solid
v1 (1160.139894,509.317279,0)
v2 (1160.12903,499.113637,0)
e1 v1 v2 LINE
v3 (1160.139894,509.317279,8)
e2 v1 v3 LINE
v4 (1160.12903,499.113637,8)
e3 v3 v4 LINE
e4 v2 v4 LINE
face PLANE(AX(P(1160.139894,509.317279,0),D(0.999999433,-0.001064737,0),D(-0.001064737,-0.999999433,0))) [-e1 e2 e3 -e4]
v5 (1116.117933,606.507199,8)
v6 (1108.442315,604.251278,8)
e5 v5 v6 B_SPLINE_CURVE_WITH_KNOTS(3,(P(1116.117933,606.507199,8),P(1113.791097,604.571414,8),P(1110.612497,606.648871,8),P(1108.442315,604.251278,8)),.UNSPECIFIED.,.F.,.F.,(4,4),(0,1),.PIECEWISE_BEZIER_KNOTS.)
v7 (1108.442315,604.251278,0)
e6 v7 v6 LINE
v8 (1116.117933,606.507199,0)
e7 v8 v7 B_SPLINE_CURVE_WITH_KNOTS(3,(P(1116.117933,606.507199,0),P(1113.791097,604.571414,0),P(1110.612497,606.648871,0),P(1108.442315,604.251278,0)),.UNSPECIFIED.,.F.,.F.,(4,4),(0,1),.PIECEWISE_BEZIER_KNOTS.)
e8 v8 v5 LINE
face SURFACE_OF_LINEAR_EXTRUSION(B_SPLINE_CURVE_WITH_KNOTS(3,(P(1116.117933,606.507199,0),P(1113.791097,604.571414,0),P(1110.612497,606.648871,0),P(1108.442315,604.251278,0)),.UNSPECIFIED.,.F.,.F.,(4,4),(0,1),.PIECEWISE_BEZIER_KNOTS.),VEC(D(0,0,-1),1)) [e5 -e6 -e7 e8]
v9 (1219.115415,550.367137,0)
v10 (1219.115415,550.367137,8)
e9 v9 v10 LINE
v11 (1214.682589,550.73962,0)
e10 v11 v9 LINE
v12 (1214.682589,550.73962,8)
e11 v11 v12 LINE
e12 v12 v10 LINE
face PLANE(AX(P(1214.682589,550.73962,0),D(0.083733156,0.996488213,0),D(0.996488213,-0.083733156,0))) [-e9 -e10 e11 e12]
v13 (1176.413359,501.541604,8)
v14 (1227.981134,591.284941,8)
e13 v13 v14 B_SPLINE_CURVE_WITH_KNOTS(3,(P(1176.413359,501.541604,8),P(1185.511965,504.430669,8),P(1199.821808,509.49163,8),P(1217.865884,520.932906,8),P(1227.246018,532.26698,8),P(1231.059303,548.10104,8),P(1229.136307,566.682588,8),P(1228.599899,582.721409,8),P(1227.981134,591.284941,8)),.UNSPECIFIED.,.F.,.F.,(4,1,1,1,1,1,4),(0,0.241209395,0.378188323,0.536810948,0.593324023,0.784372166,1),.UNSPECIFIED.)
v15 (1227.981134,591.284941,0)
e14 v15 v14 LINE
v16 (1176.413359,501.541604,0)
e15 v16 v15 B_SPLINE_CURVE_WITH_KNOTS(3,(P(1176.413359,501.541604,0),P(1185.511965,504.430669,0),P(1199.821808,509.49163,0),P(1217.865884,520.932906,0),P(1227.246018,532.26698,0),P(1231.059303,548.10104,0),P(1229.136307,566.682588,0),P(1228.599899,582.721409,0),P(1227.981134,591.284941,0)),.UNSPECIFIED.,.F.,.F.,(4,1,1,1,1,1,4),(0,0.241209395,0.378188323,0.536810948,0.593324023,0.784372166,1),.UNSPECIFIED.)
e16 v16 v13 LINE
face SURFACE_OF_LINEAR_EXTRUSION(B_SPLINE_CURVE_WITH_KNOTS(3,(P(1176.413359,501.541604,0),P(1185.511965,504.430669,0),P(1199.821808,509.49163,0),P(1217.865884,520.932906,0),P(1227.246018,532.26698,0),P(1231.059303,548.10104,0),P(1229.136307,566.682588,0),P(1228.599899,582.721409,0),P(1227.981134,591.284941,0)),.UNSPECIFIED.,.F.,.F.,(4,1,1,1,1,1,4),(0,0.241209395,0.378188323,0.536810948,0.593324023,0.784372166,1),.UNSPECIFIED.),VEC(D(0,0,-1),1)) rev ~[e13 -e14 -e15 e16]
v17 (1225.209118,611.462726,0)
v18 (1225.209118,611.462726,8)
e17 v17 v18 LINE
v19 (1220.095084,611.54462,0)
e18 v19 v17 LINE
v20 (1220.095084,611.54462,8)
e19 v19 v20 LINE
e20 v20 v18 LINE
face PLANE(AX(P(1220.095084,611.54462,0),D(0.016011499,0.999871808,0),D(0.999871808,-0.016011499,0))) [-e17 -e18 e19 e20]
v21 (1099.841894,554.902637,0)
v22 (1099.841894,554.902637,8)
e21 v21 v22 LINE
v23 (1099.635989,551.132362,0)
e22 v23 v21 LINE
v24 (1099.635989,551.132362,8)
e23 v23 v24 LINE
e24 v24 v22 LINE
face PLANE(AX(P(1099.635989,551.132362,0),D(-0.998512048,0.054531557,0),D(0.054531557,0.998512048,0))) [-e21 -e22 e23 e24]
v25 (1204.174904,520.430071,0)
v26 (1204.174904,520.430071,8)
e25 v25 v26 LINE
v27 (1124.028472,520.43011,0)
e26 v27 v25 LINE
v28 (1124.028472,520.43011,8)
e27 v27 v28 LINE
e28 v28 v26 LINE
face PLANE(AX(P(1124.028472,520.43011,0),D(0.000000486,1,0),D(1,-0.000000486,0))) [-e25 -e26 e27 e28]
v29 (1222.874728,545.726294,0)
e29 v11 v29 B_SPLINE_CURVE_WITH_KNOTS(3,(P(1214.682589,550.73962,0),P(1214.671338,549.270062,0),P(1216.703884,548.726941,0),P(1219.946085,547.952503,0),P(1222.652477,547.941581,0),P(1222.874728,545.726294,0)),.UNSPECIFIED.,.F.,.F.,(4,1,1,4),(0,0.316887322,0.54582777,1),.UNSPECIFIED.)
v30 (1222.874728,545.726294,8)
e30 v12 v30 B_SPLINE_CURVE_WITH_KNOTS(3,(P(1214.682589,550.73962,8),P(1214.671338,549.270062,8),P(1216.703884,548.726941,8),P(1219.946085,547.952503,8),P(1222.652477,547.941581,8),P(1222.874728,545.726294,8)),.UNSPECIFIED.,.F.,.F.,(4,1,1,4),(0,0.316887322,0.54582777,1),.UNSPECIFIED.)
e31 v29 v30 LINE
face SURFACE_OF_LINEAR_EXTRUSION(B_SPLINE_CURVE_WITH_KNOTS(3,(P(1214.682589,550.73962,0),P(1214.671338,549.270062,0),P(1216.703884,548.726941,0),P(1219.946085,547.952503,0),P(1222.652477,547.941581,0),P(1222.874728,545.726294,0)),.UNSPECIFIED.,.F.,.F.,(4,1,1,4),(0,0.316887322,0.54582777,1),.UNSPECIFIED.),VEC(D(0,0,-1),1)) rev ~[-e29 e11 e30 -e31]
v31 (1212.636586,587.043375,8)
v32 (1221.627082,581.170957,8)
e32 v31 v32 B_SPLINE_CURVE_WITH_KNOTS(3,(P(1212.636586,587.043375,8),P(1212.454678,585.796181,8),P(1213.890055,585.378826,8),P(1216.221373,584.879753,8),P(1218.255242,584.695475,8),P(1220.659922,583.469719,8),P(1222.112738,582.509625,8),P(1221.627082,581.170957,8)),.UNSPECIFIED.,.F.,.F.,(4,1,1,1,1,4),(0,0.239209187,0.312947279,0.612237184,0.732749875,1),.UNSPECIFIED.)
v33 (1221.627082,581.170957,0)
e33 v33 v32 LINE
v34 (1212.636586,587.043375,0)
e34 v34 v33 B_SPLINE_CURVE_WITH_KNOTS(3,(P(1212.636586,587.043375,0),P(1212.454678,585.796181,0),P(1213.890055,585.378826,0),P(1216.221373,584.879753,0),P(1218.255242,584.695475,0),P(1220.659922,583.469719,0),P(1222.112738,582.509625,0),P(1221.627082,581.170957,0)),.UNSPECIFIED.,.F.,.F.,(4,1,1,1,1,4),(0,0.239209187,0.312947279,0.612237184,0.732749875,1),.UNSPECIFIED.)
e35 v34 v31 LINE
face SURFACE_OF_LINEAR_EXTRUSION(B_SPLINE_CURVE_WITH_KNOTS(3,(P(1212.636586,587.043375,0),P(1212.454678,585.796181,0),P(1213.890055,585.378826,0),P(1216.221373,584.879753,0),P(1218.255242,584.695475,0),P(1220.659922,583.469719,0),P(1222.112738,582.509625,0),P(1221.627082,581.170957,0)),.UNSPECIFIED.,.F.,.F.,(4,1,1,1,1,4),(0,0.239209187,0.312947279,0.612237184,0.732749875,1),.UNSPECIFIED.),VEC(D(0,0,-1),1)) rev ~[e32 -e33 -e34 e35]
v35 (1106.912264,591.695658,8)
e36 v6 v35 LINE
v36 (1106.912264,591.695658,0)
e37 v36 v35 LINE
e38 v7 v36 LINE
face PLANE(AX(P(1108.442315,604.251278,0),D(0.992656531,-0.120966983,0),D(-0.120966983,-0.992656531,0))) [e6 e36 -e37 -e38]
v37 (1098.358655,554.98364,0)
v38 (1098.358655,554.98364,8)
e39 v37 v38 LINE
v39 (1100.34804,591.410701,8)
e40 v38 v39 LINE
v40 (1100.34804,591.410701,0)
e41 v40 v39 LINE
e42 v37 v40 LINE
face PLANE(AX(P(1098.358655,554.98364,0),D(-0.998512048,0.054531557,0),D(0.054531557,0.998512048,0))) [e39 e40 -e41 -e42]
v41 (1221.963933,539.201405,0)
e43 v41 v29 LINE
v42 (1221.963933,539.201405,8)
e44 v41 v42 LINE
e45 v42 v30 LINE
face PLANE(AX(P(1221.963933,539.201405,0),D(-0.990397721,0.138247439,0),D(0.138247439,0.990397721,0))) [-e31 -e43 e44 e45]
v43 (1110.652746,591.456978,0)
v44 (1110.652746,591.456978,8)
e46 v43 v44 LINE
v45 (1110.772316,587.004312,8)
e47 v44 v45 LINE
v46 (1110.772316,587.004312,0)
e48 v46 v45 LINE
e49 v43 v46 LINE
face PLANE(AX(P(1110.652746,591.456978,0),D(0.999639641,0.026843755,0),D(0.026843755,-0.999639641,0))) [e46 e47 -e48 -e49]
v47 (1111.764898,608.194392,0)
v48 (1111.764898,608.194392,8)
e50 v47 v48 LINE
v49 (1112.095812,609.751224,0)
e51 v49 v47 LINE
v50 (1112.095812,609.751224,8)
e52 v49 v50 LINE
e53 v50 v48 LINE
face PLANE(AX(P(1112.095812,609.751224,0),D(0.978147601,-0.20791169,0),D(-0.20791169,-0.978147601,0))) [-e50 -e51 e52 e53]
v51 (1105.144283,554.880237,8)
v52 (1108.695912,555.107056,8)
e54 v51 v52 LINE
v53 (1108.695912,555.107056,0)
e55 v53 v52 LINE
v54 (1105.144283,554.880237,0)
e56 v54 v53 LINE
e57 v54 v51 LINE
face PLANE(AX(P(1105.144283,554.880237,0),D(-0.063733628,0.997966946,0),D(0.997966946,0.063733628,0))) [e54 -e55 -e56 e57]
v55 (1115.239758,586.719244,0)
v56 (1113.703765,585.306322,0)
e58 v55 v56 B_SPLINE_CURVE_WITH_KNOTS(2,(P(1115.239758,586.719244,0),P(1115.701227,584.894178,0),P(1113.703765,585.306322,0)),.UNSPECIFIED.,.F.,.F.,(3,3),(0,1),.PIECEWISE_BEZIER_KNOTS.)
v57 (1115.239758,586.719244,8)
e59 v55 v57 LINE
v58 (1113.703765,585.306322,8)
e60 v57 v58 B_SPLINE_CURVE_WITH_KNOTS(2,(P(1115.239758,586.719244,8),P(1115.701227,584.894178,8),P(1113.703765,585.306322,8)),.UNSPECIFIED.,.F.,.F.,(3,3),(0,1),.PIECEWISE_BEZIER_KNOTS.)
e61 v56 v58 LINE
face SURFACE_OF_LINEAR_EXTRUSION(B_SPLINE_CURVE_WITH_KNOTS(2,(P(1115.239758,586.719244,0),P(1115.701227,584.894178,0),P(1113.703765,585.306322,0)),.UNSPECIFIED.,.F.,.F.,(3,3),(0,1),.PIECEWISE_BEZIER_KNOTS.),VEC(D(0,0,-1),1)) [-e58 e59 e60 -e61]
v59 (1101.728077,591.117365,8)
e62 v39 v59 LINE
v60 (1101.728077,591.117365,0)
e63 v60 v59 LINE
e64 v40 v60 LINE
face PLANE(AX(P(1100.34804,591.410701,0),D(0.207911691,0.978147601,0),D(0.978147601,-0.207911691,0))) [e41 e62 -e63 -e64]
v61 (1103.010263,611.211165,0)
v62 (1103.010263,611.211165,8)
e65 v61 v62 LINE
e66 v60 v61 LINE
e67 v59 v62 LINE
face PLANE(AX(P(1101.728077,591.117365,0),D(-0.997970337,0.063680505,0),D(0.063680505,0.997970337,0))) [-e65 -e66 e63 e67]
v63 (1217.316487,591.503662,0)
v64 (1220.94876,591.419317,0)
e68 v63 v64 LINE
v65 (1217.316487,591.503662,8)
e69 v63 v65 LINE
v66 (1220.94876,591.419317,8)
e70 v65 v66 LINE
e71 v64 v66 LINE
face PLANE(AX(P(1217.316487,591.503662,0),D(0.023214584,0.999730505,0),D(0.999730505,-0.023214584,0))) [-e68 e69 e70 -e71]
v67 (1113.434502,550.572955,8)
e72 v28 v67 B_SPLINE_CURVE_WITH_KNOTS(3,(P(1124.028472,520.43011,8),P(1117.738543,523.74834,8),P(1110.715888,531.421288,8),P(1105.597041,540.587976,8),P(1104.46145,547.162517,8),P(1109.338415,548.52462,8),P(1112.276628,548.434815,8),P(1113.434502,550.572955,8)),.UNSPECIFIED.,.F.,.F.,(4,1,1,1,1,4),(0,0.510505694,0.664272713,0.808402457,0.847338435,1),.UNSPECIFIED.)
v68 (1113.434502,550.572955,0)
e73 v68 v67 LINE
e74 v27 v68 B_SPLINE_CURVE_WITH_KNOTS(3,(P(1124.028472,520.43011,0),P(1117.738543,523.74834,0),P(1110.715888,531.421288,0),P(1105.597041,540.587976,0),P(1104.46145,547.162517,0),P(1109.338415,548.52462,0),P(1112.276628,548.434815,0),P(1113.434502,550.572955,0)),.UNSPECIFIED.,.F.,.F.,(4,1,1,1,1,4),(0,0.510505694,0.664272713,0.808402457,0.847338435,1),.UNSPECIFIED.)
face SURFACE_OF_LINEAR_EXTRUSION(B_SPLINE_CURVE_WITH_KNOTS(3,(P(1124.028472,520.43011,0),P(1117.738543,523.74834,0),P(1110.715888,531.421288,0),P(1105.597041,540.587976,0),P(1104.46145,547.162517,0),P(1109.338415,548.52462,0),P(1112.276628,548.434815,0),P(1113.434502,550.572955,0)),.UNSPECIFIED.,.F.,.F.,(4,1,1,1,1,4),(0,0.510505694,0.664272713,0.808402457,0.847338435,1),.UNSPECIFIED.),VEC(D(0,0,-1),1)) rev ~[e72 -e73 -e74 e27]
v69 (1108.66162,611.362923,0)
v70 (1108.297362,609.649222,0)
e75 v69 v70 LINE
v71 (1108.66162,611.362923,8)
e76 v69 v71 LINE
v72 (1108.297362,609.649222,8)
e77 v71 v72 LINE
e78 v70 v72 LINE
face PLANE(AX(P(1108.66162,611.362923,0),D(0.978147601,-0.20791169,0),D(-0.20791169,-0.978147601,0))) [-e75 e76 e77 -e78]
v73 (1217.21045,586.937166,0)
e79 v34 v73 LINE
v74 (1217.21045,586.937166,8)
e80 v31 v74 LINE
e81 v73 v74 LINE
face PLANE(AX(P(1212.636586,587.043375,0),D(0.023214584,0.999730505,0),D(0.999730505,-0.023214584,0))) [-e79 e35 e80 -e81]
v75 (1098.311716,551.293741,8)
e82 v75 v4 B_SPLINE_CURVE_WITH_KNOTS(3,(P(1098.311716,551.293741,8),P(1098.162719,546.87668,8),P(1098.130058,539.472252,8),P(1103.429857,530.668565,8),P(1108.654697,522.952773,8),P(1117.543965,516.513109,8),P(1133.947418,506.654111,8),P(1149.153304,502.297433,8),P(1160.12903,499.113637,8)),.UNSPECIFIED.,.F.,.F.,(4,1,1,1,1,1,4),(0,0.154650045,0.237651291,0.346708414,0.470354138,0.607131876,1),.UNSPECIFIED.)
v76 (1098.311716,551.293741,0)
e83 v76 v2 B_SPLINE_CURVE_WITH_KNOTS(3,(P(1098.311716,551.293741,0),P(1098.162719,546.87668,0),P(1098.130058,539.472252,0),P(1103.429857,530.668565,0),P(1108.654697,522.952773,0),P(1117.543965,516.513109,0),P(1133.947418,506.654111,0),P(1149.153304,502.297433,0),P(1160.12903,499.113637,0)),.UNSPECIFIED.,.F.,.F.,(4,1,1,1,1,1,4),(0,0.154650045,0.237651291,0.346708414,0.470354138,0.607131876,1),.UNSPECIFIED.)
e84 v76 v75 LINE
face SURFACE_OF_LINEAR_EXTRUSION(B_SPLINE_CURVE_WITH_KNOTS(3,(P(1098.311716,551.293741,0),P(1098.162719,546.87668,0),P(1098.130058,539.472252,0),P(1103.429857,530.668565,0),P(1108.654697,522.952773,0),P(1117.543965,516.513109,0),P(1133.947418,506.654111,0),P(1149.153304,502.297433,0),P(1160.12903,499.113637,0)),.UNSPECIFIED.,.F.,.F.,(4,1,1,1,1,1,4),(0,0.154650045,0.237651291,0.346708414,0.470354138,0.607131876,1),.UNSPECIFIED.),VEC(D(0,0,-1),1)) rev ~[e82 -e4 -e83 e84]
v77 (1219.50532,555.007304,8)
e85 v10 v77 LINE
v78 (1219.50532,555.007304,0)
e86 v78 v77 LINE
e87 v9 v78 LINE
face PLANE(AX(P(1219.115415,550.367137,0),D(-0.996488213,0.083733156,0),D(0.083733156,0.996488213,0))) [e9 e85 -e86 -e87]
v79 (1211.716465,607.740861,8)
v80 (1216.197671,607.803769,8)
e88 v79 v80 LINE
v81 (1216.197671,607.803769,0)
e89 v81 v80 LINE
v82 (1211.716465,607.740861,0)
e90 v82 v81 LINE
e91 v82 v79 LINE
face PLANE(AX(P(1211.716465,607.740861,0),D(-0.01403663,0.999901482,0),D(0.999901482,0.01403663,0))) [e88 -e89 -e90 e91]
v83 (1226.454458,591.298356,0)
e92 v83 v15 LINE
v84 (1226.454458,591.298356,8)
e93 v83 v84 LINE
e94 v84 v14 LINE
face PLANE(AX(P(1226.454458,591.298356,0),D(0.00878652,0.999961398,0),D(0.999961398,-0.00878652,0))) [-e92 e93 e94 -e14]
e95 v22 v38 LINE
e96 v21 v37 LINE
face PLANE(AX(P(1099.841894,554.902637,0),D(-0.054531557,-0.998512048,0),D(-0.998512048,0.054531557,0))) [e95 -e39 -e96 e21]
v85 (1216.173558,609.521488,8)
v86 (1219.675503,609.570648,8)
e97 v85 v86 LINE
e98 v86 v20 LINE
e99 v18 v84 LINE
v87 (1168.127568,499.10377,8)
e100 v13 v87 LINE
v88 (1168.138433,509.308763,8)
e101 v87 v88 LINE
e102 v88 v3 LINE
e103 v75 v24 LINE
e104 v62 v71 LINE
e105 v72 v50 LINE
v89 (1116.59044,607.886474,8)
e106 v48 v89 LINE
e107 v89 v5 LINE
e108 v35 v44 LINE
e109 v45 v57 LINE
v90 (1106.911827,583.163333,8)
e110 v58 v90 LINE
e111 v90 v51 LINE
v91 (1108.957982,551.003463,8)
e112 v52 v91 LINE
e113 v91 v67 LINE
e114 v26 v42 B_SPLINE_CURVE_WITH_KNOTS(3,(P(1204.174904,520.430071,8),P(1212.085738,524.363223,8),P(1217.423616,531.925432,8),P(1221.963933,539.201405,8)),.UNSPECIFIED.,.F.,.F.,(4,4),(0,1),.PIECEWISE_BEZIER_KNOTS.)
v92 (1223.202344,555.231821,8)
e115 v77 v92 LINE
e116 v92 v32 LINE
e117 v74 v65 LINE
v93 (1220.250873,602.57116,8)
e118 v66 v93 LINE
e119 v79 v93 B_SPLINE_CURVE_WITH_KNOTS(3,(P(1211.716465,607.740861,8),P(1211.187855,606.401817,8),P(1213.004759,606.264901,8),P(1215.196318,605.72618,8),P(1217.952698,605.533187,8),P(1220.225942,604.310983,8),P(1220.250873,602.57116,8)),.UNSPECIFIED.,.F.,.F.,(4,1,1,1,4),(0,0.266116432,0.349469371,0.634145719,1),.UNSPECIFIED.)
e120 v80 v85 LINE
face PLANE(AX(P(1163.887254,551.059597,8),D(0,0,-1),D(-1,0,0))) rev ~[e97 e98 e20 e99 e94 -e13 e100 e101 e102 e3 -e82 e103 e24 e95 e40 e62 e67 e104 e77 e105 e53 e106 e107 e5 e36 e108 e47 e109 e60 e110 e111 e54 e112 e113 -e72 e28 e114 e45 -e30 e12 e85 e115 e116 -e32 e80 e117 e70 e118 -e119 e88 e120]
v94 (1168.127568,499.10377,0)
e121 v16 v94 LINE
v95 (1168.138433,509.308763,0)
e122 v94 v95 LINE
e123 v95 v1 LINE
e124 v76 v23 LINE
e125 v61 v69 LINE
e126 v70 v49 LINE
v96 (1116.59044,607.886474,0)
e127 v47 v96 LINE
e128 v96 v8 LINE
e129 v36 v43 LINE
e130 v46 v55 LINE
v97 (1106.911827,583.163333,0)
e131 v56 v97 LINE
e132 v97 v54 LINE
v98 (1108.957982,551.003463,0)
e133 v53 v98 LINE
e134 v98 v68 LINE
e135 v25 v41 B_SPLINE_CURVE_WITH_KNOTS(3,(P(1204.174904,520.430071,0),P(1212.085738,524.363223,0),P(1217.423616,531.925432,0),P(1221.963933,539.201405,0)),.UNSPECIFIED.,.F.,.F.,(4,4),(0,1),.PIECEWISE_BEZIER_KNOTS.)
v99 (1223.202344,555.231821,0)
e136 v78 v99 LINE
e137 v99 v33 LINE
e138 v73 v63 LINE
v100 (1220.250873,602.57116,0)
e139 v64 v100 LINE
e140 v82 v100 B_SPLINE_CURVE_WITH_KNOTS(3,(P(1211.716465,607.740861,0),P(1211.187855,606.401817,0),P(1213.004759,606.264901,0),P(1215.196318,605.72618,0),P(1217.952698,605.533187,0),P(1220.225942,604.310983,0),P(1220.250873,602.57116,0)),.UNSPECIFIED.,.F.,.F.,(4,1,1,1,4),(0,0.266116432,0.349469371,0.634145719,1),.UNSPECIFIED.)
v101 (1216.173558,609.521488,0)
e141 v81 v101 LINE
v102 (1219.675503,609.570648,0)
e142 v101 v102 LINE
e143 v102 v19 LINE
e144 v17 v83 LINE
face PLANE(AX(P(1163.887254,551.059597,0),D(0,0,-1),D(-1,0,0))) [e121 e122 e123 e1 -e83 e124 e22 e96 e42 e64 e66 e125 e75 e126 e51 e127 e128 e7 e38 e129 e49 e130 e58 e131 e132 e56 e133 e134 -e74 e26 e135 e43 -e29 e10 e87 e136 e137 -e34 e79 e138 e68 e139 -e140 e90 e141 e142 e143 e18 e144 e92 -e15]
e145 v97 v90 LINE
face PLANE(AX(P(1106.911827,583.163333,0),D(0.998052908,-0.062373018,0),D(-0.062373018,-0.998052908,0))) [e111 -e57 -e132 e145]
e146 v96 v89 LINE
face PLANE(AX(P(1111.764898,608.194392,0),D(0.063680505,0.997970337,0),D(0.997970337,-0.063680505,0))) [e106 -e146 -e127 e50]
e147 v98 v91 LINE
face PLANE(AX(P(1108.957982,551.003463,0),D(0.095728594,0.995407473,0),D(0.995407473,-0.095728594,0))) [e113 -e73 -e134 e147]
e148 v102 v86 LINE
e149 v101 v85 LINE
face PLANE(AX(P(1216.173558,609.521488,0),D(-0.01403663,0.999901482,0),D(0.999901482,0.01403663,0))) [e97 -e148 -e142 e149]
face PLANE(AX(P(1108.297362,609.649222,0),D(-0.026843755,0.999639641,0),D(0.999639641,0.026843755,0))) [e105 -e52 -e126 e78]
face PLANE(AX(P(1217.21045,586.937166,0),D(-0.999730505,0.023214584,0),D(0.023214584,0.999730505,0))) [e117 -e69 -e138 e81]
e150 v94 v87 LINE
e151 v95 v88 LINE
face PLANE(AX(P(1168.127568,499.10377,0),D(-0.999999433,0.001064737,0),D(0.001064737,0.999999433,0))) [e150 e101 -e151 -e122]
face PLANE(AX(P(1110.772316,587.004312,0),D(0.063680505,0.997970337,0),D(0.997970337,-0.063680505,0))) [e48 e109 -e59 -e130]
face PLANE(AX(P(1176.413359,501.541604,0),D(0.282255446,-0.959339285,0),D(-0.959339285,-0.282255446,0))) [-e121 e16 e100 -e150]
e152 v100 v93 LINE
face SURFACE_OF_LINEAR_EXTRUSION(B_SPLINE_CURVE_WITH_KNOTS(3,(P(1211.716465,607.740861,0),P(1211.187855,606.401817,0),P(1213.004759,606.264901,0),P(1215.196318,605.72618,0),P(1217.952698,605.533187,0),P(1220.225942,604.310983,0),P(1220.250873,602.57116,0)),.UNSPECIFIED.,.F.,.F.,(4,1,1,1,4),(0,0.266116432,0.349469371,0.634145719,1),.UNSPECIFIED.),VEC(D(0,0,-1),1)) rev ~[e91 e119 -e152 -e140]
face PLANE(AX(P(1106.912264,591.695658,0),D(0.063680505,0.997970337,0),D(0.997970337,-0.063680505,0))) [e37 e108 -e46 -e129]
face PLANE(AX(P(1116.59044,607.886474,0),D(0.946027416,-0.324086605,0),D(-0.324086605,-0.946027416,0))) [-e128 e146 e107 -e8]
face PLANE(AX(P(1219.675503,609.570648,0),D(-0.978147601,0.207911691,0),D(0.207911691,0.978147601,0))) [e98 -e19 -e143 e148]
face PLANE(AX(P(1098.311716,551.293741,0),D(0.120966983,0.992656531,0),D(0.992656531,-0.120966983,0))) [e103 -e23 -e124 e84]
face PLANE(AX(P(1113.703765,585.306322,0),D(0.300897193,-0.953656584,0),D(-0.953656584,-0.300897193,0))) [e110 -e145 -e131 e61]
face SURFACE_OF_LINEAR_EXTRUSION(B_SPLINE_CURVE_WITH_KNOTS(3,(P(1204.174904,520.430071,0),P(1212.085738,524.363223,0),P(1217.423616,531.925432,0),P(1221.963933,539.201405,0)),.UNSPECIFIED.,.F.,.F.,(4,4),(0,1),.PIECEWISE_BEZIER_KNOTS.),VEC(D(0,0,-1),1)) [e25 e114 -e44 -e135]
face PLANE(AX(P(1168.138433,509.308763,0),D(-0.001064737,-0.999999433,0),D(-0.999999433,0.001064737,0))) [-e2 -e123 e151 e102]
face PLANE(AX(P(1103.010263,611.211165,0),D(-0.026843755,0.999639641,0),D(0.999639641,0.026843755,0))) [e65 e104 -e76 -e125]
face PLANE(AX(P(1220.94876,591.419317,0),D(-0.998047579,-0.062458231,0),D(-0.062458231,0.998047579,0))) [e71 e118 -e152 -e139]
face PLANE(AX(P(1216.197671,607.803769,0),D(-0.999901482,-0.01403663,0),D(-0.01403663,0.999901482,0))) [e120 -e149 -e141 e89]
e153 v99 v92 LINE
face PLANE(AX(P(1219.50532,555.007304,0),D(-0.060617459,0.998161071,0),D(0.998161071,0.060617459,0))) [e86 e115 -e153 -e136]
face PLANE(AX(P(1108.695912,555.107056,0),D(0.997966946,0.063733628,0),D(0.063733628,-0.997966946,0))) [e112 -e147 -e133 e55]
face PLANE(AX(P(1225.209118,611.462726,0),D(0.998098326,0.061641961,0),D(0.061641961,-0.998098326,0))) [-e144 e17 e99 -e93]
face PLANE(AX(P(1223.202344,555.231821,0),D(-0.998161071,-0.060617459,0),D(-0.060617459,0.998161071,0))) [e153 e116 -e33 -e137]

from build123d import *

# Parameters (mm, degrees)
EXTRUDE_1_DEPTH = 8


with BuildPart() as part:
    # 草图1 → 凸台-拉伸1 (new body)
    with BuildSketch(Plane.XY):
        with BuildLine():
            Line((1124.028471583, 520.430109722), (1204.174904035, 520.430070778))
            add(Edge.make_bspline(
                [(1204.174904035, 520.430070778), (1212.085738121, 524.363222827), (1217.423615756, 531.925431574), (1221.963933213, 539.201405051)],
                knots=[0, 0, 0, 0, 1, 1, 1, 1], degree=3))
            Line((1221.963933213, 539.201405051), (1222.874728164, 545.726294408))
            add(Edge.make_bspline(
                [(1214.682588776, 550.739620034), (1214.671338256, 549.270061767), (1216.703883787, 548.726941269), (1219.946084595, 547.952502949), (1222.652477024, 547.941581282), (1222.874728164, 545.726294408)],
                knots=[0, 0, 0, 0, 0.316887322, 0.54582777, 1, 1, 1, 1], degree=3))
            Line((1214.682588776, 550.739620034), (1219.115415172, 550.367137409))
            Line((1219.115415172, 550.367137409), (1219.505320224, 555.007303918))
            Line((1219.505320224, 555.007303918), (1223.202343642, 555.231820955))
            Line((1223.202343642, 555.231820955), (1221.627082304, 581.170957375))
            add(Edge.make_bspline(
                [(1212.636585977, 587.043374717), (1212.454677562, 585.796181195), (1213.890055348, 585.378825619), (1216.221373323, 584.879752933), (1218.255242025, 584.695475039), (1220.659922483, 583.469719419), (1222.1127384, 582.509625086), (1221.627082304, 581.170957375)],
                knots=[0, 0, 0, 0, 0.239209187, 0.312947279, 0.612237184, 0.732749875, 1, 1, 1, 1], degree=3))
            Line((1212.636585977, 587.043374717), (1217.210449531, 586.937165754))
            Line((1217.210449531, 586.937165754), (1217.316487411, 591.503661615))
            Line((1217.316487411, 591.503661615), (1220.948759853, 591.41931719))
            Line((1220.948759853, 591.41931719), (1220.250872886, 602.571160309))
            add(Edge.make_bspline(
                [(1211.716465331, 607.740861376), (1211.187854841, 606.401817151), (1213.004759262, 606.264901424), (1215.196317894, 605.726179758), (1217.952697521, 605.533186742), (1220.225941655, 604.310982986), (1220.250872886, 602.571160309)],
                knots=[0, 0, 0, 0, 0.266116432, 0.349469371, 0.634145719, 1, 1, 1, 1], degree=3))
            Line((1211.716465331, 607.740861376), (1216.197671159, 607.803768601))
            Line((1216.197671159, 607.803768601), (1216.173557796, 609.521487724))
            Line((1216.173557796, 609.521487724), (1219.67550319, 609.570648078))
            Line((1219.67550319, 609.570648078), (1220.095083915, 611.544620192))
            Line((1220.095083915, 611.544620192), (1225.209117986, 611.46272634))
            Line((1225.209117986, 611.46272634), (1226.454457575, 591.298355637))
            Line((1226.454457575, 591.298355637), (1227.981133702, 591.284940949))
            add(Edge.make_bspline(
                [(1176.413358607, 501.541603889), (1185.511965328, 504.430669174), (1199.8218076, 509.491630158), (1217.865884469, 520.93290627), (1227.246018242, 532.266979554), (1231.059303267, 548.101040116), (1229.136307234, 566.682588001), (1228.599899115, 582.721408894), (1227.981133702, 591.284940949)],
                knots=[0, 0, 0, 0, 0.241209395, 0.378188323, 0.536810948, 0.593324023, 0.784372166, 1, 1, 1, 1], degree=3))
            Line((1176.413358607, 501.541603889), (1168.127567544, 499.103770177))
            Line((1168.127567544, 499.103770177), (1168.138433182, 509.308763091))
            Line((1168.138433182, 509.308763091), (1160.139894251, 509.317279435))
            Line((1160.139894251, 509.317279435), (1160.12903005, 499.113636864))
            add(Edge.make_bspline(
                [(1098.311715911, 551.293740787), (1098.16271854, 546.876679985), (1098.130057814, 539.47225151), (1103.429856905, 530.668564811), (1108.654696706, 522.952772916), (1117.543965476, 516.51310893), (1133.947418206, 506.654111254), (1149.153303542, 502.297432674), (1160.12903005, 499.113636864)],
                knots=[0, 0, 0, 0, 0.154650045, 0.237651291, 0.346708414, 0.470354138, 0.607131876, 1, 1, 1, 1], degree=3))
            Line((1098.311715911, 551.293740787), (1099.635988728, 551.132362423))
            Line((1099.635988728, 551.132362423), (1099.841894023, 554.902636544))
            Line((1099.841894023, 554.902636544), (1098.358655386, 554.983640386))
            Line((1098.358655386, 554.983640386), (1100.348039848, 591.410701366))
            Line((1100.348039848, 591.410701366), (1101.728076895, 591.117365436))
            Line((1101.728076895, 591.117365436), (1103.010262599, 611.21116483))
            Line((1103.010262599, 611.21116483), (1108.661620257, 611.362923176))
            Line((1108.661620257, 611.362923176), (1108.297361895, 609.649222315))
            Line((1108.297361895, 609.649222315), (1112.095812339, 609.751223744))
            Line((1112.095812339, 609.751223744), (1111.764897573, 608.194392169))
            Line((1111.764897573, 608.194392169), (1116.590439522, 607.886474249))
            Line((1116.590439522, 607.886474249), (1116.117932629, 606.507199486))
            add(Edge.make_bspline(
                [(1116.117932629, 606.507199486), (1113.791096831, 604.571413999), (1110.612497209, 606.648870888), (1108.442315229, 604.251277774)],
                knots=[0, 0, 0, 0, 1, 1, 1, 1], degree=3))
            Line((1108.442315229, 604.251277774), (1106.91226392, 591.695658143))
            Line((1106.91226392, 591.695658143), (1110.652746305, 591.456977894))
            Line((1110.652746305, 591.456977894), (1110.772315662, 587.00431205))
            Line((1110.772315662, 587.00431205), (1115.239758205, 586.71924446))
            add(Edge.make_bspline(
                [(1115.239758205, 586.71924446), (1115.70122676, 584.894177675), (1113.703765277, 585.306322128)],
                knots=[0, 0, 0, 1, 1, 1], degree=2))
            Line((1113.703765277, 585.306322128), (1106.91182657, 583.163333421))
            Line((1106.91182657, 583.163333421), (1105.144282892, 554.880236524))
            Line((1105.144282892, 554.880236524), (1108.69591202, 555.10705587))
            Line((1108.69591202, 555.10705587), (1108.95798166, 551.003463381))
            Line((1108.95798166, 551.003463381), (1113.434502264, 550.572955239))
            add(Edge.make_bspline(
                [(1124.028471583, 520.430109722), (1117.738543153, 523.748339757), (1110.715887779, 531.421288497), (1105.5970408, 540.587975664), (1104.461450054, 547.162517108), (1109.338415048, 548.524619873), (1112.276628203, 548.43481463), (1113.434502264, 550.572955239)],
                knots=[0, 0, 0, 0, 0.510505694, 0.664272713, 0.808402457, 0.847338435, 1, 1, 1, 1], degree=3))
        make_face()
    extrude(amount=EXTRUDE_1_DEPTH)


solid = part.part
